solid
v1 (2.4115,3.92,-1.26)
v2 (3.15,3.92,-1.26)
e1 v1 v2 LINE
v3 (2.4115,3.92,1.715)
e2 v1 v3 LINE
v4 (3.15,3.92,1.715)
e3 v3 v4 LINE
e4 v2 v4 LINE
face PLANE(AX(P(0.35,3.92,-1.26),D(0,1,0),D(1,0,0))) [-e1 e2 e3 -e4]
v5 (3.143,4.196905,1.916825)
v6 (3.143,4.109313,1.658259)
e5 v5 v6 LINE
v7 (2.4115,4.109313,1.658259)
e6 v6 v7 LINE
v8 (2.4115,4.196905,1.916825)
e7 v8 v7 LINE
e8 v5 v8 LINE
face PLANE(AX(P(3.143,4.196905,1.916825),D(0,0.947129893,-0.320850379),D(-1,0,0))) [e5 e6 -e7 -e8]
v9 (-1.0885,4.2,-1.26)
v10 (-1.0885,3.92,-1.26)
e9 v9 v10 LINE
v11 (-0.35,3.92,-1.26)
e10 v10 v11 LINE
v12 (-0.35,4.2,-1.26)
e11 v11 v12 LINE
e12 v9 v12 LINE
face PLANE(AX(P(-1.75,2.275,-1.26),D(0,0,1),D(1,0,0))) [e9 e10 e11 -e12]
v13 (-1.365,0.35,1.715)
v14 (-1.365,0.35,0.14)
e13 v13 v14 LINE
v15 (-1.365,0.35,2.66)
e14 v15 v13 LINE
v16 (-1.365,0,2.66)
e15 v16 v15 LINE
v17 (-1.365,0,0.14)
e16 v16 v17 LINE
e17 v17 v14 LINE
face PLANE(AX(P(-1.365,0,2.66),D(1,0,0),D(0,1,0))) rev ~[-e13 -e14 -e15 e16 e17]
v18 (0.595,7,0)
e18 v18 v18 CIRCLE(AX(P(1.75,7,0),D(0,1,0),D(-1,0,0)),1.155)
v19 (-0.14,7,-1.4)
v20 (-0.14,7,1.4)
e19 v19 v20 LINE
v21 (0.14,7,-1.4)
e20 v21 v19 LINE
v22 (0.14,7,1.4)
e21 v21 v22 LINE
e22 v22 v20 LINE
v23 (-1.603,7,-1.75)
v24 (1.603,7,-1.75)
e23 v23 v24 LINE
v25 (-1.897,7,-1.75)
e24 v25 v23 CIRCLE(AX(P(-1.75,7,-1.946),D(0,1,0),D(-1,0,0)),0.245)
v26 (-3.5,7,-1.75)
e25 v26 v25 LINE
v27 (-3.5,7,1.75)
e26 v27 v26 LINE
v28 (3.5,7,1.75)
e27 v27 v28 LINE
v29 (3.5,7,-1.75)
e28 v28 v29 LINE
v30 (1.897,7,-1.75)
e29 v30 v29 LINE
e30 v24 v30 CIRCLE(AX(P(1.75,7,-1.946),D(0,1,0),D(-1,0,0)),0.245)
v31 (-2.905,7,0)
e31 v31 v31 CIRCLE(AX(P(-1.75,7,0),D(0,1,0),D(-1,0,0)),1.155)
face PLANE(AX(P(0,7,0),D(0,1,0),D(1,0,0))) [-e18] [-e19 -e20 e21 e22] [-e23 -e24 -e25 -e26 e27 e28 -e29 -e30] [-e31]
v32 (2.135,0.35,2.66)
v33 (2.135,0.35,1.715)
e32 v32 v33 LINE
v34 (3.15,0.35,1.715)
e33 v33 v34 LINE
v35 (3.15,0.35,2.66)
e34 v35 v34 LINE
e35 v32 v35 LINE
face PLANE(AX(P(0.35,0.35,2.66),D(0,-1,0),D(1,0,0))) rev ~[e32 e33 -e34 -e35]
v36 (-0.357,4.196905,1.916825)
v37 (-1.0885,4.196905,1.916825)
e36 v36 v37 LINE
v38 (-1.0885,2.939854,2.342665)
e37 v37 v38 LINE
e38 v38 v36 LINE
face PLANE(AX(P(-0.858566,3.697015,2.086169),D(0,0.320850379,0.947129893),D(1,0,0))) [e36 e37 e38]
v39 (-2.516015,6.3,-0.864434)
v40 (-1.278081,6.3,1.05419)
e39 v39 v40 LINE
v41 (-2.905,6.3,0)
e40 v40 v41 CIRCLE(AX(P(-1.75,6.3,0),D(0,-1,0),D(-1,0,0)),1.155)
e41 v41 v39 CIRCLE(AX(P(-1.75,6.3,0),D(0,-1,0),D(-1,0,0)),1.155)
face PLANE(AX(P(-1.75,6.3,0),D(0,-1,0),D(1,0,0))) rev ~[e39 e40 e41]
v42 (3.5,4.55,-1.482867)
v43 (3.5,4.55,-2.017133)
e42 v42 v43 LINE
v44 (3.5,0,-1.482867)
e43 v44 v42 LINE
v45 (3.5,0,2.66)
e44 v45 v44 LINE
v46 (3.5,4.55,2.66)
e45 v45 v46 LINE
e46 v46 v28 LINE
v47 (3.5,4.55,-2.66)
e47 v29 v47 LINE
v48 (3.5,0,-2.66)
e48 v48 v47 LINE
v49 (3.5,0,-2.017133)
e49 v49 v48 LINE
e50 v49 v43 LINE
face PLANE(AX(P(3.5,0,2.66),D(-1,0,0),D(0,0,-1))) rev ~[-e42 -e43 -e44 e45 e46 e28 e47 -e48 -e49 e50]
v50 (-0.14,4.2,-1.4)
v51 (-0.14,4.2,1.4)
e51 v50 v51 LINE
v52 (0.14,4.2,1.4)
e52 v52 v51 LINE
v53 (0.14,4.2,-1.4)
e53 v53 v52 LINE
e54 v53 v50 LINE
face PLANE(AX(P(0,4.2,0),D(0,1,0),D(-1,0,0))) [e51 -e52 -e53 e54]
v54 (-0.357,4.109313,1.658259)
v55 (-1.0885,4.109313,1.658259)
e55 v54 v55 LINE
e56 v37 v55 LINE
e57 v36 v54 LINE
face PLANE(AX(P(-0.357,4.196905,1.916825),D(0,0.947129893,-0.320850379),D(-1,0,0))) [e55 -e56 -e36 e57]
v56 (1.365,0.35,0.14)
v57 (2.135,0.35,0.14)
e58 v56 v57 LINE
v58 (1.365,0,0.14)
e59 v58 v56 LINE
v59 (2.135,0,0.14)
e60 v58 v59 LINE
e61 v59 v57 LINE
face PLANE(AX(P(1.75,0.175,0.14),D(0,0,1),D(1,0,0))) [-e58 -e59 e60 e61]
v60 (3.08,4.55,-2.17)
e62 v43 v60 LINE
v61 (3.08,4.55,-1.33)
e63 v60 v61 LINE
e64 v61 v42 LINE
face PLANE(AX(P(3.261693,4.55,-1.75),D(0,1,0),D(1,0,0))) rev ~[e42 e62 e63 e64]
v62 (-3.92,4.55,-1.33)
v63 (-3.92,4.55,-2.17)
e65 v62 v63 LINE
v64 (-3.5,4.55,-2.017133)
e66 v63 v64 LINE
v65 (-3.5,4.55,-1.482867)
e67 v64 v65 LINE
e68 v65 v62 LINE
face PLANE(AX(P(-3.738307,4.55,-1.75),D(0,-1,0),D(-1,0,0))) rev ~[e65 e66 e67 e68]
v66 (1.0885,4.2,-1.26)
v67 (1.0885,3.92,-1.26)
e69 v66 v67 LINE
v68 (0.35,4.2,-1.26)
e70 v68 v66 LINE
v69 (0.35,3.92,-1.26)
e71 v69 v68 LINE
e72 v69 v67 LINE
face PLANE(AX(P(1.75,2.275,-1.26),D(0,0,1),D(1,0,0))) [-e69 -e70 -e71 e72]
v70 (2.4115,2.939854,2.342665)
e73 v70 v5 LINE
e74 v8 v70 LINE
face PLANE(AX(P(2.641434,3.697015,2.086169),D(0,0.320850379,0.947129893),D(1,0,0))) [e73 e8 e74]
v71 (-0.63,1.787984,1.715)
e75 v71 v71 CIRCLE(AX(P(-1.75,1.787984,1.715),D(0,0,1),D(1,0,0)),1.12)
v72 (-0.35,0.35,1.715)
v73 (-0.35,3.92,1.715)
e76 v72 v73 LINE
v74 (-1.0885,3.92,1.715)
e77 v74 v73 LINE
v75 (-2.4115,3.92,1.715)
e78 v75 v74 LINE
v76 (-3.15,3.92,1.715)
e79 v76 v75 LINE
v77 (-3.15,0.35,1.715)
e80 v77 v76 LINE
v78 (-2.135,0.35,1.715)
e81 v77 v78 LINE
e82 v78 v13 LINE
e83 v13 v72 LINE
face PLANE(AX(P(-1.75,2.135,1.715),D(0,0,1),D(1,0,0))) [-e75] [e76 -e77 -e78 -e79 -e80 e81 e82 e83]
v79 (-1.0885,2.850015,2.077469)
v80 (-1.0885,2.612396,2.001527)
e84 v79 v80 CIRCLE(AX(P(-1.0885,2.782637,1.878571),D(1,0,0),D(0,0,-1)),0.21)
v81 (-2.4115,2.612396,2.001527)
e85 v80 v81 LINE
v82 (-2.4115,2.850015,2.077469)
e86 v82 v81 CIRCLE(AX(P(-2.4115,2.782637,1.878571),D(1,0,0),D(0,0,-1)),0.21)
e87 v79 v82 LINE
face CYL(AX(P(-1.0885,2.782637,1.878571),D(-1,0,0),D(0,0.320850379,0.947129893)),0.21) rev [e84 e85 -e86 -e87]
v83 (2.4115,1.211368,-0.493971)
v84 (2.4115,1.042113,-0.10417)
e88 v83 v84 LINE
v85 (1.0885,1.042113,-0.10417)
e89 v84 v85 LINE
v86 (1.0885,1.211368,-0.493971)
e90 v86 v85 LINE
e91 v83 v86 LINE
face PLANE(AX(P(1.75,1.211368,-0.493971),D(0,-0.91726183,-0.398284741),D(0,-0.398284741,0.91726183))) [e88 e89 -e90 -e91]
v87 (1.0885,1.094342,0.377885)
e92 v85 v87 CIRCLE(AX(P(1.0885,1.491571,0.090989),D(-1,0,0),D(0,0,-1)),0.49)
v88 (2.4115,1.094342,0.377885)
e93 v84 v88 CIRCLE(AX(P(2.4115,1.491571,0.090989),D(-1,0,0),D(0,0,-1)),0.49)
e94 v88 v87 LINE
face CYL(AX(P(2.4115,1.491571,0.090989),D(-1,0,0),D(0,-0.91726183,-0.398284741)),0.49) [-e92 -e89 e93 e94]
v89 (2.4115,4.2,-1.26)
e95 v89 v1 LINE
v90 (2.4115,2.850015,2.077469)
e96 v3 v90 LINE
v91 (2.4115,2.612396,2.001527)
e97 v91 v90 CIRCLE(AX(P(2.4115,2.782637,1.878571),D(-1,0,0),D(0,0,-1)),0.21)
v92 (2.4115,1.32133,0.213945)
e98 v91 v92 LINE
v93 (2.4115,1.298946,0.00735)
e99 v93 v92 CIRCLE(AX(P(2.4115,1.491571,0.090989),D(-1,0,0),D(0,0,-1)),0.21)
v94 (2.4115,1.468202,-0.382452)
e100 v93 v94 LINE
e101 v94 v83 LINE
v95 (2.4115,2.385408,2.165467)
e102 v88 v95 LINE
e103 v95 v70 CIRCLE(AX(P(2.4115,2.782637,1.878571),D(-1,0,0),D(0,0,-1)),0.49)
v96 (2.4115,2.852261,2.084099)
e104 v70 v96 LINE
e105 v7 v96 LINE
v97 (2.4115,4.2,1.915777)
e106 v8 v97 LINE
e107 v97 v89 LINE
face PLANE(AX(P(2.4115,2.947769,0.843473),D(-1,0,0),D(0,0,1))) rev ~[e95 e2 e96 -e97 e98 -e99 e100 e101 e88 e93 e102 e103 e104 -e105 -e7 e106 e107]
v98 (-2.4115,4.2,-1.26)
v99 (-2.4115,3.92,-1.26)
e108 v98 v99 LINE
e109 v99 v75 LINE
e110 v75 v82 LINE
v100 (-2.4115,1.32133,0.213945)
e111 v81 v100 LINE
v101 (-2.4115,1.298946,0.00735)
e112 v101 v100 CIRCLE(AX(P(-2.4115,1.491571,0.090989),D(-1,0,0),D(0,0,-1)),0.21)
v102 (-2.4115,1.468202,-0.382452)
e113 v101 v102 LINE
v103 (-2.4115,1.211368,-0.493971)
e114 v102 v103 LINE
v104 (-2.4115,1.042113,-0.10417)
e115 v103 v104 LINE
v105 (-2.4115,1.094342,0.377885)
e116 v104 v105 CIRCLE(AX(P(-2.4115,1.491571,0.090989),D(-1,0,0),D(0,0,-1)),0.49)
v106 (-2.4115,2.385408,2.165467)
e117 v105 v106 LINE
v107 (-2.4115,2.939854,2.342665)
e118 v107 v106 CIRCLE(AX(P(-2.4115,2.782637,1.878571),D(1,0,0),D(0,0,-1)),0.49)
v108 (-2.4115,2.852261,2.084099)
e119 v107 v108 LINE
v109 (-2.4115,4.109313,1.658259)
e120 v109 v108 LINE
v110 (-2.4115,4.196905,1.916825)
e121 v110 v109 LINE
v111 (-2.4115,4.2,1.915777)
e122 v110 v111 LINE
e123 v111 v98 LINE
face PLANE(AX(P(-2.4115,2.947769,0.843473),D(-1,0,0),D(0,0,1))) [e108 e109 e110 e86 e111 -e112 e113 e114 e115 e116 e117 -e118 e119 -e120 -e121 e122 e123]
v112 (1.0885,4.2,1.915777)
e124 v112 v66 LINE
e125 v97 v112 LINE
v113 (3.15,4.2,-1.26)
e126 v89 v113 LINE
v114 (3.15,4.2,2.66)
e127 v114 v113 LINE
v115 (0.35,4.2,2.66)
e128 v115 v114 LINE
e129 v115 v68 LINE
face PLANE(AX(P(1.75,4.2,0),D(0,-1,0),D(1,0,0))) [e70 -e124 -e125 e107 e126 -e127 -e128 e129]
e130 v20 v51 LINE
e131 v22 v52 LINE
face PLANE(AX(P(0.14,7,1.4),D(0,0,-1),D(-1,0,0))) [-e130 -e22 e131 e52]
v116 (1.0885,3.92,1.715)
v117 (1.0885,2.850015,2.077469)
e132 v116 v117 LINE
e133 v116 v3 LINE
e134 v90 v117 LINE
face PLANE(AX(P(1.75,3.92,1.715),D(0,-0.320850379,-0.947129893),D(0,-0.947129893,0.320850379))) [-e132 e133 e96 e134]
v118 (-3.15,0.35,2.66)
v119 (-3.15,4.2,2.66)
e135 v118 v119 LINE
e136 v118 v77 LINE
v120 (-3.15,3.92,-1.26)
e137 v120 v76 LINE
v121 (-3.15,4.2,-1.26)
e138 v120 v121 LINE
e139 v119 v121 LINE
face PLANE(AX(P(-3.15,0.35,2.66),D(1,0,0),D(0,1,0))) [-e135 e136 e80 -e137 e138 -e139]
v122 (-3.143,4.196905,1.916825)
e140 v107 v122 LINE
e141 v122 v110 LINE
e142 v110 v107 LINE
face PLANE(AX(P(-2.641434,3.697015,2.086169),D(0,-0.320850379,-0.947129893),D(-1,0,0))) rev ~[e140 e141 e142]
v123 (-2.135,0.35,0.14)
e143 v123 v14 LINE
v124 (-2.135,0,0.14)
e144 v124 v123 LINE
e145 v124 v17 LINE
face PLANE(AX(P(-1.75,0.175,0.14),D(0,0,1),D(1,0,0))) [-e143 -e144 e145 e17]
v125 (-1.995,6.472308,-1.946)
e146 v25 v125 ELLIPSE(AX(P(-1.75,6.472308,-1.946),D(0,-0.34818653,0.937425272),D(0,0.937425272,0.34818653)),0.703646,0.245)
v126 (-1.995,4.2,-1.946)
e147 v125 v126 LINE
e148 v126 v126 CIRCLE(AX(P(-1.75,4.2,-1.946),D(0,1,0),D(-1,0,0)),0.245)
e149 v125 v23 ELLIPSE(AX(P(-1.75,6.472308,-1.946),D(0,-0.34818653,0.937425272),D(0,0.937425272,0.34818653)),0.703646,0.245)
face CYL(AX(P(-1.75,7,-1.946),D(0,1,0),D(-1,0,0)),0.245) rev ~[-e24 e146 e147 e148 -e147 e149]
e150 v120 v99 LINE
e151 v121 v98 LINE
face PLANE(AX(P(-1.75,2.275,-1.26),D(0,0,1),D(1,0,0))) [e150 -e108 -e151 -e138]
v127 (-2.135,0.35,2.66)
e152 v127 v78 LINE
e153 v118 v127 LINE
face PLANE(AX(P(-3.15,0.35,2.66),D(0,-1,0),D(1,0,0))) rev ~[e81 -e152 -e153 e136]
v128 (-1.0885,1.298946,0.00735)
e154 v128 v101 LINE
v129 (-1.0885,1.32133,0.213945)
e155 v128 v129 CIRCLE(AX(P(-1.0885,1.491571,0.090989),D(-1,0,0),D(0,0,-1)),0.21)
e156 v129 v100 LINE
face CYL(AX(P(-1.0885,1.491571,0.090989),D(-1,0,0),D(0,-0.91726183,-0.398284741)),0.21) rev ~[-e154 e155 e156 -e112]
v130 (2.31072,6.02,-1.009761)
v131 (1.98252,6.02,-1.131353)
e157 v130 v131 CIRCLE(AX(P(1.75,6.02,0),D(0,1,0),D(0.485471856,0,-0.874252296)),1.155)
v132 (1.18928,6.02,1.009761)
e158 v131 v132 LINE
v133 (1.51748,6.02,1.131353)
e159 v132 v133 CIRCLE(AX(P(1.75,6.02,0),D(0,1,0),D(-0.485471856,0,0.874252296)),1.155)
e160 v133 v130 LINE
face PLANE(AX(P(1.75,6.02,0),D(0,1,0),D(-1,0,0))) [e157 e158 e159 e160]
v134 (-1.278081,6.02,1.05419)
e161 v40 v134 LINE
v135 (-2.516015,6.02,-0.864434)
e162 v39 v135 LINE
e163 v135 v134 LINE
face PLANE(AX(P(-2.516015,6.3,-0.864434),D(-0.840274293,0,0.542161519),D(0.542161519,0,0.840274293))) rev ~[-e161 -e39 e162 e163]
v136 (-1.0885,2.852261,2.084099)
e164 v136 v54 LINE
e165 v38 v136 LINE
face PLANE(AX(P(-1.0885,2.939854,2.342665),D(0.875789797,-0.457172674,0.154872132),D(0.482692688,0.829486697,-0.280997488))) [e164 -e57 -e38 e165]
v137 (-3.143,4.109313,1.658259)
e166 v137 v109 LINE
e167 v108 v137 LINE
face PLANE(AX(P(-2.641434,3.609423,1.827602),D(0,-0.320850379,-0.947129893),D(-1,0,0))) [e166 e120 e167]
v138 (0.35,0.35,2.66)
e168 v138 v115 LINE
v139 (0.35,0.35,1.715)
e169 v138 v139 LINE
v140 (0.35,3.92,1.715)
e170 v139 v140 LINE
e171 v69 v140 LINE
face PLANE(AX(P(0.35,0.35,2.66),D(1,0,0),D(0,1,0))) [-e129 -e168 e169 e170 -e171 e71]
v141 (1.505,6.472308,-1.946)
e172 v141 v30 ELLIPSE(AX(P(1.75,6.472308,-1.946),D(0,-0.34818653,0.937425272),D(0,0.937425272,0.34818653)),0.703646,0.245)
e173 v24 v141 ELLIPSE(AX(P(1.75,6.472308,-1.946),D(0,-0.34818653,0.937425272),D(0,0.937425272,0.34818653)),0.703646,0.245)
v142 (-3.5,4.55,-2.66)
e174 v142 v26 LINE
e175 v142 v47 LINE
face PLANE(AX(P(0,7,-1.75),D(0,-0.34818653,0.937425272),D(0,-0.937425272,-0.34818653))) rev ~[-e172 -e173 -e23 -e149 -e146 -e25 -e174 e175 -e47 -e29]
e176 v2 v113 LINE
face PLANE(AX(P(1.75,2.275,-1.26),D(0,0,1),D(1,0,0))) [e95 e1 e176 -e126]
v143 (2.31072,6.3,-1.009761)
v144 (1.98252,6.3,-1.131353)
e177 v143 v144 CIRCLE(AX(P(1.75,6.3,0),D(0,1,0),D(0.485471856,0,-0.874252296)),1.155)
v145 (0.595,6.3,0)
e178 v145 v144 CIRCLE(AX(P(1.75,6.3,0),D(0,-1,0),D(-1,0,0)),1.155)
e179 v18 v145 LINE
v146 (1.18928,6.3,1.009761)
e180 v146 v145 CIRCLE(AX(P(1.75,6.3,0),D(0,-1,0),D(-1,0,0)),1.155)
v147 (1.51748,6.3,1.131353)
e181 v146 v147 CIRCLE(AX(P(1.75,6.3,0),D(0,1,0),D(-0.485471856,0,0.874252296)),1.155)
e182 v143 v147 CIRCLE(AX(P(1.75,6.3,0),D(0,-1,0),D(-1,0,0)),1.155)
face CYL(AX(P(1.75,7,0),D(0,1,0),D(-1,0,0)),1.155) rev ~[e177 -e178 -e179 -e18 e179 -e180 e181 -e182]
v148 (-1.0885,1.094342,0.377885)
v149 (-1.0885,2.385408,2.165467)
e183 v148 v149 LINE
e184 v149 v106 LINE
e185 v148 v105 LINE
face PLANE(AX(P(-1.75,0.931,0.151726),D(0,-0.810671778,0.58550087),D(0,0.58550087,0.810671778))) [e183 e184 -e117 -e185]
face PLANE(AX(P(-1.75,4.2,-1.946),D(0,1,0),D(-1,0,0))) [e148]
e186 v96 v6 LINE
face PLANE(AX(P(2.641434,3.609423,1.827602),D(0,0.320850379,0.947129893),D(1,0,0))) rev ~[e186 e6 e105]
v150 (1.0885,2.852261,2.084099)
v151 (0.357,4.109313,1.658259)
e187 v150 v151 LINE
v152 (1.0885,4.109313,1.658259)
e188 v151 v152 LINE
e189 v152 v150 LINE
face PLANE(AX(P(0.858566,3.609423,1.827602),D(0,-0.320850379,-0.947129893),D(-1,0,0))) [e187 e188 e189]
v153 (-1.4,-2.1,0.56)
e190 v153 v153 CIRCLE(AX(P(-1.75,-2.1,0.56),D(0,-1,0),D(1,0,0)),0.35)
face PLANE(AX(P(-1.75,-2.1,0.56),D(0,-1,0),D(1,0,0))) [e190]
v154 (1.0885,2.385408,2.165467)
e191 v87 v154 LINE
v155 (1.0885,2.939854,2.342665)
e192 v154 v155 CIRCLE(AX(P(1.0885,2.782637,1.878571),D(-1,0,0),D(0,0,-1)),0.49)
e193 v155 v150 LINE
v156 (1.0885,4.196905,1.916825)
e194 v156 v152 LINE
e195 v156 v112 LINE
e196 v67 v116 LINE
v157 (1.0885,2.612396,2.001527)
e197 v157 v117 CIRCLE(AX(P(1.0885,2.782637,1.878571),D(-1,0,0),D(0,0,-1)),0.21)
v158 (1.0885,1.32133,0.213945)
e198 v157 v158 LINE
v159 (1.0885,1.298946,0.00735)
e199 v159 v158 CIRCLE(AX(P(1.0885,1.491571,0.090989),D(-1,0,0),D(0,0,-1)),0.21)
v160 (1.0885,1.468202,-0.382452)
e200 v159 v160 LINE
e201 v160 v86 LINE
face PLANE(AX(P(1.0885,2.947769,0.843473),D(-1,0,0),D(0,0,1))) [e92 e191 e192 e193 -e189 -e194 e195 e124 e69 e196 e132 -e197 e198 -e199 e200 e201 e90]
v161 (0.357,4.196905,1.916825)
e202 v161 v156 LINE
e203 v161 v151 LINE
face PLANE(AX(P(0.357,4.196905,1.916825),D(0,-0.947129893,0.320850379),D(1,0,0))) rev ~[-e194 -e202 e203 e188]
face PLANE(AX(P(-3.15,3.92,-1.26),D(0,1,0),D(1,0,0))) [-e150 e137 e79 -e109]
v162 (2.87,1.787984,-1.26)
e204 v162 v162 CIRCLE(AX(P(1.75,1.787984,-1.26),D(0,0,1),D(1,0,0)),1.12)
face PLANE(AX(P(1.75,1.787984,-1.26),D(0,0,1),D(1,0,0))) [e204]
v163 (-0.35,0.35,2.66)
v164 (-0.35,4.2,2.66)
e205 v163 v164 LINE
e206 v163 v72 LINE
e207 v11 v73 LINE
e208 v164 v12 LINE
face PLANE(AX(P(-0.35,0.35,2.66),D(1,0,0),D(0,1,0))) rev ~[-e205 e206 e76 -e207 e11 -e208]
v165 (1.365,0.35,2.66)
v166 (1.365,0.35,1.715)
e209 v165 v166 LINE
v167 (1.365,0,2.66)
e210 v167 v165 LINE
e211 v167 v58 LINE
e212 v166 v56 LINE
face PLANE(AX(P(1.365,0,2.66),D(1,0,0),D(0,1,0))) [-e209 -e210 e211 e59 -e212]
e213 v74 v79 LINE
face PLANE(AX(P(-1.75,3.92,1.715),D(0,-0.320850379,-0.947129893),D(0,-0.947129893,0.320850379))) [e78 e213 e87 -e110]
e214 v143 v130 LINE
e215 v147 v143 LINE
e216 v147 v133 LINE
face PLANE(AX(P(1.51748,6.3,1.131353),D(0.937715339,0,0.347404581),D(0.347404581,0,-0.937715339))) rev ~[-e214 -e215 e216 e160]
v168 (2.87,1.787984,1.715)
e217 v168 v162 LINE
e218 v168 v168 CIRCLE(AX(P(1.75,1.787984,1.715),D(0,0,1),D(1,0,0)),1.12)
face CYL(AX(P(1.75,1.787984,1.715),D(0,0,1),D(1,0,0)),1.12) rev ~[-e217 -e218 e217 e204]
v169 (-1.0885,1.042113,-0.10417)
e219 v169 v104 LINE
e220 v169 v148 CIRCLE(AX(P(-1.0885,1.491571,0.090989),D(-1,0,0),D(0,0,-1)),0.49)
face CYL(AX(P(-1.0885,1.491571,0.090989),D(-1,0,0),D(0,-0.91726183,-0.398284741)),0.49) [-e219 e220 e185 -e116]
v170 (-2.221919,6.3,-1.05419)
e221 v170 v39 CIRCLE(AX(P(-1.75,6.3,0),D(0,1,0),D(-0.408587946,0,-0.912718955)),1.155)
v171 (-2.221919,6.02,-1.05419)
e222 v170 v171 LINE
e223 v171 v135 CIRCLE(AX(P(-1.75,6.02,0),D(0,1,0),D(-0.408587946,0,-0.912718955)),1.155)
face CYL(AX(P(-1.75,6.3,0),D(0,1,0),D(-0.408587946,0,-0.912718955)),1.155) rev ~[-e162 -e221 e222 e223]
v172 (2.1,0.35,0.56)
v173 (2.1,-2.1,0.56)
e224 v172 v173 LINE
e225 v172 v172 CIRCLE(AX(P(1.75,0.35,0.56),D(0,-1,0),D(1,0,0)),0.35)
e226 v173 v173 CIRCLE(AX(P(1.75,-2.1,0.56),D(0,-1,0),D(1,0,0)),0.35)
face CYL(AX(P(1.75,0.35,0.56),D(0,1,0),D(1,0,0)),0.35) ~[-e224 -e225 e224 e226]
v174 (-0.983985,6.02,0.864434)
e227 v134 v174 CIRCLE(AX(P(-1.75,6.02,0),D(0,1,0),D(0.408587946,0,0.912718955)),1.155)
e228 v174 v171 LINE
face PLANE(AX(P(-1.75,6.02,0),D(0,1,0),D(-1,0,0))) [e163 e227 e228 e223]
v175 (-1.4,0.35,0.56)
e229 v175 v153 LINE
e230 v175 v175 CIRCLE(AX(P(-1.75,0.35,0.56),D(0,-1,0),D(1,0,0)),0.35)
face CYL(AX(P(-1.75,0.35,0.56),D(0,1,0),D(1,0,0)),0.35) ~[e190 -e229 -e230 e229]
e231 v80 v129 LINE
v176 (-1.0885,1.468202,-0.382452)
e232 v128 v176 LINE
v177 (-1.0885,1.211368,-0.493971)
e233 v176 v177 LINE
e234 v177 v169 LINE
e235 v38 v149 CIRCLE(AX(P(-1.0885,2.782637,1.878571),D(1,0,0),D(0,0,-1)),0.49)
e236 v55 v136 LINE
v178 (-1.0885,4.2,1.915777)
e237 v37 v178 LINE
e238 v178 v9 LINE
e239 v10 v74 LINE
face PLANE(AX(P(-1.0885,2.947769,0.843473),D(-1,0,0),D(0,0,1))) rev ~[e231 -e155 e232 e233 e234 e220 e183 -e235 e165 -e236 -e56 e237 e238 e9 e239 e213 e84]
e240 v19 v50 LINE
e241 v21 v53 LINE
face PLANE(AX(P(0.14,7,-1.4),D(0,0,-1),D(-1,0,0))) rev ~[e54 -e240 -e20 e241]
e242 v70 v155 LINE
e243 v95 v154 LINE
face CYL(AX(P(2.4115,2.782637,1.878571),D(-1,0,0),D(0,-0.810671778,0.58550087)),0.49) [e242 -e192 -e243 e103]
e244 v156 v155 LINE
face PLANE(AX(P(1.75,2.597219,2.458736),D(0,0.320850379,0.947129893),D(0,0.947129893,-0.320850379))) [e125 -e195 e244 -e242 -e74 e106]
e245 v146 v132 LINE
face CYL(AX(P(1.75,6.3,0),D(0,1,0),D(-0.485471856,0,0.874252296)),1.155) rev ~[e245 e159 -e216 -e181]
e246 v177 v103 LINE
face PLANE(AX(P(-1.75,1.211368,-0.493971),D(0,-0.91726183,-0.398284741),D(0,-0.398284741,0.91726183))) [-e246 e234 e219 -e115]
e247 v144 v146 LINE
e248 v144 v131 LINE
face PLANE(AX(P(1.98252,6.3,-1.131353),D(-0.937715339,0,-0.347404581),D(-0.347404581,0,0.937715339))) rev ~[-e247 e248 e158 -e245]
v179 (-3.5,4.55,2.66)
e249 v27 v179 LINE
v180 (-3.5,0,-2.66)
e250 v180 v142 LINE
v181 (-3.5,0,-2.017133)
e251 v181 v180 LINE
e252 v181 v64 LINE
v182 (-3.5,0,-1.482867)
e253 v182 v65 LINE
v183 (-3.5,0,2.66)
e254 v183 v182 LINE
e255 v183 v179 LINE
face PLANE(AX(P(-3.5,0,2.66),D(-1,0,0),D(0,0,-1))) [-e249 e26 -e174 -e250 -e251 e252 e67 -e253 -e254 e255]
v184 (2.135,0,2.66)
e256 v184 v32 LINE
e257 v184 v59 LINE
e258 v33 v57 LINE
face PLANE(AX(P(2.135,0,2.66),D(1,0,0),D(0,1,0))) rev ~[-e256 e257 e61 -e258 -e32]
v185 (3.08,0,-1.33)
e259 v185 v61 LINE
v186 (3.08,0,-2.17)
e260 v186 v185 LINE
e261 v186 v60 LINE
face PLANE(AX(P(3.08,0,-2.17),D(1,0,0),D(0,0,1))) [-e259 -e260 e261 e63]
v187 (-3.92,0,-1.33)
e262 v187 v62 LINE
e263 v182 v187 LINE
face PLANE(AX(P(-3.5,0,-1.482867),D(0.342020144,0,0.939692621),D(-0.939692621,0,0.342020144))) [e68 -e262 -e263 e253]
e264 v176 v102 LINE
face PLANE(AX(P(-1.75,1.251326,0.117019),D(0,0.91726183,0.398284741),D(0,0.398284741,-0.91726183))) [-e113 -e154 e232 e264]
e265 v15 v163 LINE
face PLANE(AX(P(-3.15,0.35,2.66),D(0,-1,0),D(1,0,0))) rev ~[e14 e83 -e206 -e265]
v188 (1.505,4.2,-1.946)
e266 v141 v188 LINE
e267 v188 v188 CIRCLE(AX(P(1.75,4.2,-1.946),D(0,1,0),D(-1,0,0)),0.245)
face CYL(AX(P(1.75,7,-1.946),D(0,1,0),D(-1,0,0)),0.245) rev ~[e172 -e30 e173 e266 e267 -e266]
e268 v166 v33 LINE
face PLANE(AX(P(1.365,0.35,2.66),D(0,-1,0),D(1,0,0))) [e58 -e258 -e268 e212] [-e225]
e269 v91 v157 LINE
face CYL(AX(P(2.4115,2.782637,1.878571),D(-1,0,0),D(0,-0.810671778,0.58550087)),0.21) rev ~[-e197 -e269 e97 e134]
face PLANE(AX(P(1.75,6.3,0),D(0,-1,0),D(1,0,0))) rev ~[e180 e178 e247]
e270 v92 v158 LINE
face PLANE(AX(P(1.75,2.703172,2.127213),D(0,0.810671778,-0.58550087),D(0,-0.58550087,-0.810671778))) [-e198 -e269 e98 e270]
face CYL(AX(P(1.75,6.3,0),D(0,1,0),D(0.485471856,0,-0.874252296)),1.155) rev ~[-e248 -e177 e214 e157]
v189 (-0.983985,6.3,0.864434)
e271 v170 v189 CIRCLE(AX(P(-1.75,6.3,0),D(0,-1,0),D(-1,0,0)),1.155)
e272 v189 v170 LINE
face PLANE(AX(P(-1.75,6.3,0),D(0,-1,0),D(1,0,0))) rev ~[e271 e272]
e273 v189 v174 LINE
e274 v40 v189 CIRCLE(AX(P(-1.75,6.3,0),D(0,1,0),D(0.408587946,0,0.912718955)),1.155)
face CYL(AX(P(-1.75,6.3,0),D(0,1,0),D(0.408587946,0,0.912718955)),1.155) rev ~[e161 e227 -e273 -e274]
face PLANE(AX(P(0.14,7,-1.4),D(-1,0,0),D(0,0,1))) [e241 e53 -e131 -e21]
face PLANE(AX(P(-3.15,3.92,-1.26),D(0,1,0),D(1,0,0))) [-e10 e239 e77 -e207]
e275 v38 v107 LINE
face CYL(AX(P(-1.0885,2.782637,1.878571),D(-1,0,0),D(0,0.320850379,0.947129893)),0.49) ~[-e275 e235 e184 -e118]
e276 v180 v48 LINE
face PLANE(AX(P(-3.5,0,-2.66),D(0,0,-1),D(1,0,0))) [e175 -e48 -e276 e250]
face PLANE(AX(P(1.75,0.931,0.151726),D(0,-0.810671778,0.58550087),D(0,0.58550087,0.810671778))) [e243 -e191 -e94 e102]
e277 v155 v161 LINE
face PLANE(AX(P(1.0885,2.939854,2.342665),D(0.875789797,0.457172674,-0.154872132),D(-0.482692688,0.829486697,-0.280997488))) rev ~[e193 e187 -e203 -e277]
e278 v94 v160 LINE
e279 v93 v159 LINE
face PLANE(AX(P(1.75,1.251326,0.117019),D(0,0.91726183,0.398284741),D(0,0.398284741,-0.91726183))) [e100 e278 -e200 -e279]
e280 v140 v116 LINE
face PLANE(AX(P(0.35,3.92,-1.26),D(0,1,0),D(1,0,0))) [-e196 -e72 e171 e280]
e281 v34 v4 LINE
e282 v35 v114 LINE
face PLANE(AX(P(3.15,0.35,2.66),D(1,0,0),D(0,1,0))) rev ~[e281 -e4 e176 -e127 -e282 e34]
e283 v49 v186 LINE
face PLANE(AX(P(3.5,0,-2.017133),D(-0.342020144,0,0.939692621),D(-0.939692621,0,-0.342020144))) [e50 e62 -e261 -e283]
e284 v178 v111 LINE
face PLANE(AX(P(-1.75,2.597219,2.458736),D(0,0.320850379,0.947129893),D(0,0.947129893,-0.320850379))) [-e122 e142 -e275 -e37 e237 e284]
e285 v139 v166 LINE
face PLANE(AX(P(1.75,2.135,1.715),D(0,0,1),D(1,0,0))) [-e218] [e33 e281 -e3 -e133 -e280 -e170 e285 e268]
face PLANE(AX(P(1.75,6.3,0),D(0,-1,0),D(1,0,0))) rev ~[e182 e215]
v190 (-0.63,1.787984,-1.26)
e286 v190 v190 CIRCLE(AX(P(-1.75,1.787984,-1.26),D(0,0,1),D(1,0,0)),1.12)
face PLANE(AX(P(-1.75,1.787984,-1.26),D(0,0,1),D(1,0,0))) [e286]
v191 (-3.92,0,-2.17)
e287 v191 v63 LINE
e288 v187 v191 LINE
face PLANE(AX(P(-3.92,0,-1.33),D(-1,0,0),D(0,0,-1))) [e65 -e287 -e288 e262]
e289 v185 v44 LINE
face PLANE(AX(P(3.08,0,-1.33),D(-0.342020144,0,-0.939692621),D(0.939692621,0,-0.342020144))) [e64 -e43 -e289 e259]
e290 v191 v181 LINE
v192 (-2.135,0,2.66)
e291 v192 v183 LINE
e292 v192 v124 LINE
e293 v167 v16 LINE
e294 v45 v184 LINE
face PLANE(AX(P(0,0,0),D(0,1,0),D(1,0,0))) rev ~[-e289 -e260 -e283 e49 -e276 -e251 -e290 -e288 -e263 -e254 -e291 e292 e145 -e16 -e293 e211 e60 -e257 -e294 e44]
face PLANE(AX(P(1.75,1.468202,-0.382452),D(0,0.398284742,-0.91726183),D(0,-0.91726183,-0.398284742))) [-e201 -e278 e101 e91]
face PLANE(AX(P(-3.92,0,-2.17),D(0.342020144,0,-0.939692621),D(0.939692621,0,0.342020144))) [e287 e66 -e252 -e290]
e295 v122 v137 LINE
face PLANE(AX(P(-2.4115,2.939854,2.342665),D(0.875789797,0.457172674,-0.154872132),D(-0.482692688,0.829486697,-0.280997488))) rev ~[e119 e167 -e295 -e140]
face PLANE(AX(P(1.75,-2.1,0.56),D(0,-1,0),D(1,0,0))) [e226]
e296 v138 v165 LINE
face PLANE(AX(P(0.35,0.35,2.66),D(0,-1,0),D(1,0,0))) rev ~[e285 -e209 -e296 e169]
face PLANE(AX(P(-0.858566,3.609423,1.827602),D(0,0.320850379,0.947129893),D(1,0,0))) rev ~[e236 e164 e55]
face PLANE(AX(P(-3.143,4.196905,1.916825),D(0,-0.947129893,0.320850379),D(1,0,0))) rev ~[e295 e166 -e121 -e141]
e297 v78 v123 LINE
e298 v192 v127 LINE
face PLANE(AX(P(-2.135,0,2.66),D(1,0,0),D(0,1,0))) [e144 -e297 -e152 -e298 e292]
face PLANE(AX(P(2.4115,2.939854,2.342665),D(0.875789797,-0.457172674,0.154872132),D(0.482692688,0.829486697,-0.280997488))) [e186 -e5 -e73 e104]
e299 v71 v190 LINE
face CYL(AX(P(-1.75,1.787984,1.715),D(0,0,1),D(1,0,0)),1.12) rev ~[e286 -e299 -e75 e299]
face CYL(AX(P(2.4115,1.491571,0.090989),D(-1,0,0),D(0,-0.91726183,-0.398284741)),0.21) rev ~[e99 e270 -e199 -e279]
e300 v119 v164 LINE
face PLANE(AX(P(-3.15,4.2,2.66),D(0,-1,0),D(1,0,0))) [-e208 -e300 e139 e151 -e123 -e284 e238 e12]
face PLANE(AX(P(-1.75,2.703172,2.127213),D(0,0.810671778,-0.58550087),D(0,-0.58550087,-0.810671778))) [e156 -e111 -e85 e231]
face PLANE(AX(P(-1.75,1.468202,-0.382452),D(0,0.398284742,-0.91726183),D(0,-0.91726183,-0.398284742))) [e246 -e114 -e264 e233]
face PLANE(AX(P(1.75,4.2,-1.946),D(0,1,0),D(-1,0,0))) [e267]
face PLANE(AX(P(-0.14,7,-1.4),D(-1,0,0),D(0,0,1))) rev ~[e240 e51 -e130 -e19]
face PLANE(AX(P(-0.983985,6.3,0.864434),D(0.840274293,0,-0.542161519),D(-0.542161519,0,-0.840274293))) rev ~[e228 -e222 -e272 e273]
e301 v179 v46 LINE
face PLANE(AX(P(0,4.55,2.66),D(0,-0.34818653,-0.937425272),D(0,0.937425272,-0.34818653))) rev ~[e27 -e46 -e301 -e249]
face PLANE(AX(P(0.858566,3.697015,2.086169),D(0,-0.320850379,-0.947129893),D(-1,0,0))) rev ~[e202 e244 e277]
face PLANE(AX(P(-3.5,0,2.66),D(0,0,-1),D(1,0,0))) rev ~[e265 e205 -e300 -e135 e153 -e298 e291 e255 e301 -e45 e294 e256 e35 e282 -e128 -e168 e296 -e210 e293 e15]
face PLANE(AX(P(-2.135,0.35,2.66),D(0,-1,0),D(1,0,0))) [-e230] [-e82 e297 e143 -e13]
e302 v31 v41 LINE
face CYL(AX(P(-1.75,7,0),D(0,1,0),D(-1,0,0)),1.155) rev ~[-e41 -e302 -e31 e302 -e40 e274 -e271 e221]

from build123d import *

# Parameters (mm, degrees)
SKETCH1_W               = 10
SKETCH1_H               = 7.6
EXTRUDE1_DEPTH          = 10
SKETCH2_OUTSIDE_W       = 12.81
SKETCH2_OUTSIDE_H       = 15.21
CUT_EXTRUDE1_DEPTH      = 6
CUT_EXTRUDE1_DEPTH_BACK = 6
SKETCH3_R               = 1.65
SKETCH3_R_2             = 0.35
SKETCH3_W               = 0.4
SKETCH3_H               = 4
CUT_EXTRUDE2_DEPTH      = 4
SKETCH4_W               = 4
SKETCH4_H               = 5.5
CUT_EXTRUDE3_DEPTH      = 5.6
SKETCH5_W               = 4
SKETCH5_H               = 5.1
EXTRUDE2_DEPTH          = 4.25
SKETCH6_R               = 1.6
CUT_EXTRUDE4_DEPTH      = 4.25
EXTRUDE3_DEPTH          = 6.5
CUT_EXTRUDE5_DEPTH      = 6.5
SKETCH10_W              = 1.1
SKETCH10_H              = 0.5
CUT_EXTRUDE6_DEPTH      = 3.6
SKETCH11_R              = 0.5
EXTRUDE4_DEPTH          = 3.5
SKETCH12_R              = 1.65
EXTRUDE5_DEPTH          = 3
CUT_EXTRUDE7_DEPTH      = 0.4
EXTRUDE6_DEPTH          = 0.945
EXTRUDE9_DEPTH          = 0.39
LPATTERN1_COUNT         = 2
LPATTERN1_PITCH         = 5
FILLET1_R               = 0.3
FILLET2_R               = 0.7
SCALE1_SCALE            = 0.7


with BuildPart() as part:
    # Sketch1 → Extrude1 (new body)
    with BuildSketch(Plane(origin=(0, 0, 0), x_dir=(1, 0, 0), z_dir=(0, 1, 0))):
        Rectangle(SKETCH1_W, SKETCH1_H)
    extrude(amount=EXTRUDE1_DEPTH)

    # Sketch2 outside → Cut-Extrude1 (cut, two sides)
    with BuildSketch(Plane(origin=(0, 0, 0), x_dir=(0, 0, -1), z_dir=(1, 0, 0))) as cut_extrude1_sk:
        with Locations((0, 5)):
            Rectangle(SKETCH2_OUTSIDE_W, SKETCH2_OUTSIDE_H)
        Polygon((2.5, 10), (3.8, 6.5), (3.8, 0), (-3.8, 0), (-3.8, 6.5), (-2.5, 10), align=None, mode=Mode.SUBTRACT)
    extrude(amount=CUT_EXTRUDE1_DEPTH, mode=Mode.SUBTRACT)
    extrude(cut_extrude1_sk.sketch, amount=-CUT_EXTRUDE1_DEPTH_BACK, mode=Mode.SUBTRACT)

    # Sketch3 → Cut-Extrude2 (cut)
    with BuildSketch(Plane(origin=(0, 10, 0), x_dir=(-1, 0, 0), z_dir=(0, 1, 0))):
        with Locations((2.5, 0)):
            Circle(SKETCH3_R)
        with Locations((-2.5, 0)):
            Circle(SKETCH3_R)
        with Locations((2.5, -2.78)):
            Circle(SKETCH3_R_2)
        with Locations((-2.5, -2.78)):
            Circle(SKETCH3_R_2)
        Rectangle(SKETCH3_W, SKETCH3_H)
    extrude(amount=-CUT_EXTRUDE2_DEPTH, mode=Mode.SUBTRACT)

    # Sketch4 → Cut-Extrude3 (cut)
    with BuildSketch(Plane.XY.offset(3.8)):
        with Locations((-2.5, 3.25)):
            Rectangle(SKETCH4_W, SKETCH4_H)
        with Locations((2.5, 3.25)):
            Rectangle(SKETCH4_W, SKETCH4_H)
    extrude(amount=-CUT_EXTRUDE3_DEPTH, mode=Mode.SUBTRACT)

    # Sketch5 → Extrude2 (add)
    with BuildSketch(Plane.XY.offset(-1.8)):
        with Locations((-2.5, 3.05)):
            Rectangle(SKETCH5_W, SKETCH5_H)
        with Locations((2.5, 3.05)):
            Rectangle(SKETCH5_W, SKETCH5_H)
    extrude(amount=EXTRUDE2_DEPTH)

    # Sketch6 → Cut-Extrude4 (cut)
    with BuildSketch(Plane.XY.offset(2.45)):
        with Locations((-2.5, 2.554263468)):
            Circle(SKETCH6_R)
        with Locations((2.5, 2.554263468)):
            Circle(SKETCH6_R)
    extrude(amount=-CUT_EXTRUDE4_DEPTH, mode=Mode.SUBTRACT)

    # Sketch7 → Extrude3 (add)
    with BuildSketch(Plane(origin=(0, 0, 0), x_dir=(1, 0, 0), z_dir=(0, 1, 0))):
        Polygon((-5.6, 3.1), (-5, 2.881617859), (-5, 2.118382141), (-5.6, 1.9), align=None)
    extrude(amount=EXTRUDE3_DEPTH)

    # Sketch9 → Cut-Extrude5 (cut)
    with BuildSketch(Plane(origin=(0, 0, 0), x_dir=(1, 0, 0), z_dir=(0, 1, 0))):
        Polygon((5, 2.881617859), (4.4, 3.1), (4.4, 1.9), (5, 2.118382141), align=None)
    extrude(amount=CUT_EXTRUDE5_DEPTH, mode=Mode.SUBTRACT)

    # Sketch10 → Cut-Extrude6 (cut)
    with BuildSketch(Plane.XY.offset(3.8)):
        with Locations((-2.5, 0.25)):
            Rectangle(SKETCH10_W, SKETCH10_H)
        with Locations((2.5, 0.25)):
            Rectangle(SKETCH10_W, SKETCH10_H)
    extrude(amount=-CUT_EXTRUDE6_DEPTH, mode=Mode.SUBTRACT)

    # Sketch11 → Extrude4 (add)
    with BuildSketch(Plane.XZ.offset(-0.5)):
        with Locations((-2.5, 0.8)):
            Circle(SKETCH11_R)
        with Locations((2.5, 0.8)):
            Circle(SKETCH11_R)
    extrude(amount=EXTRUDE4_DEPTH)

    # Sketch12 → Extrude5 (add)
    with BuildSketch(Plane.XZ.offset(-6)):
        with Locations((2.5, 0)):
            Circle(SKETCH12_R)
        with Locations((-2.5, 0)):
            Circle(SKETCH12_R)
    extrude(amount=-EXTRUDE5_DEPTH)

    # Sketch13 → Cut-Extrude7 (cut)
    with BuildSketch(Plane(origin=(0, 9, 0), x_dir=(-1, 0, 0), z_dir=(0, 1, 0))):
        with BuildLine():
            Line((3.594307251, -1.234905519), (1.825829895, 1.505986278))
            ThreePointArc((1.825829895, 1.505986278), (1.605433494, 1.386452583), (1.405692749, 1.234905519))
            Line((1.405692749, 1.234905519), (3.174170105, -1.505986278))
            ThreePointArc((3.174170105, -1.505986278), (3.394566506, -1.386452583), (3.594307251, -1.234905519))
        make_face()
        with BuildLine():
            Line((-2.83217089, -1.616218581), (-1.698971441, 1.44251629))
            ThreePointArc((-1.698971441, 1.44251629), (-1.926782442, 1.54723031), (-2.16782911, 1.616218581))
            Line((-2.16782911, 1.616218581), (-3.301028559, -1.44251629))
            ThreePointArc((-3.301028559, -1.44251629), (-3.073217558, -1.54723031), (-2.83217089, -1.616218581))
        make_face()
    extrude(amount=-CUT_EXTRUDE7_DEPTH, mode=Mode.SUBTRACT)

    # Sketch14 → Extrude6 (add, symmetric)
    with BuildSketch(Plane.ZY.offset(2.5)):
        Polygon((2.45, 5.6), (3.03887637, 3.861674443), (0.167170254, 1.787608865), (-0.546359637, 2.097431054), (-0.705673534, 1.730526322), (0.216750724, 1.33), (3.512480259, 3.710312924), (2.736824279, 6), (-1.8, 6), (-1.8, 5.6), align=None)
    extrude6 = extrude(amount=EXTRUDE6_DEPTH, both=True)

    # Sketch15 → Extrude9 (add)
    with BuildSketch(Plane(origin=(0, 1.449355072, 4.278403908), x_dir=(1, 0, 0), z_dir=(0, 0.320850379, 0.947129893))):
        Polygon((-1.555, 4.8), (-1.555, 2.903968921), (-0.51, 4.8), align=None)
        Polygon((-3.445, 4.8), (-3.445, 2.903968921), (-4.49, 4.8), align=None)
    extrude9 = extrude(amount=-EXTRUDE9_DEPTH)

    # LPattern1: Extrude6, Extrude9 ×2
    with Locations(*[(i * LPATTERN1_PITCH, 0, 0) for i in range(1, LPATTERN1_COUNT)]):
        add(extrude6)
        add(extrude9)

    # Fillet1
    fillet1_edges = [part.edges().sort_by_distance(p)[0] for p in [
        (-2.5, 3.861674443, 3.03887637),
        (-2.5, 1.787608865, 0.167170254),
        (2.5, 3.861674443, 3.03887637),
        (2.5, 1.787608865, 0.167170254),
    ]]
    fillet(fillet1_edges, radius=FILLET1_R)

    # Fillet2
    fillet2_edges = [part.edges().sort_by_distance(p)[0] for p in [
        (-2.5, 3.710312924, 3.512480259),
        (-2.5, 1.33, 0.216750724),
        (2.5, 1.33, 0.216750724),
        (2.5, 3.710312924, 3.512480259),
    ]]
    fillet(fillet2_edges, radius=FILLET2_R)


with BuildPart() as part_1:
    # Scale1: scaled about (0, 0, 0)
    add(part.part.scale(SCALE1_SCALE))


solid = part_1.part
